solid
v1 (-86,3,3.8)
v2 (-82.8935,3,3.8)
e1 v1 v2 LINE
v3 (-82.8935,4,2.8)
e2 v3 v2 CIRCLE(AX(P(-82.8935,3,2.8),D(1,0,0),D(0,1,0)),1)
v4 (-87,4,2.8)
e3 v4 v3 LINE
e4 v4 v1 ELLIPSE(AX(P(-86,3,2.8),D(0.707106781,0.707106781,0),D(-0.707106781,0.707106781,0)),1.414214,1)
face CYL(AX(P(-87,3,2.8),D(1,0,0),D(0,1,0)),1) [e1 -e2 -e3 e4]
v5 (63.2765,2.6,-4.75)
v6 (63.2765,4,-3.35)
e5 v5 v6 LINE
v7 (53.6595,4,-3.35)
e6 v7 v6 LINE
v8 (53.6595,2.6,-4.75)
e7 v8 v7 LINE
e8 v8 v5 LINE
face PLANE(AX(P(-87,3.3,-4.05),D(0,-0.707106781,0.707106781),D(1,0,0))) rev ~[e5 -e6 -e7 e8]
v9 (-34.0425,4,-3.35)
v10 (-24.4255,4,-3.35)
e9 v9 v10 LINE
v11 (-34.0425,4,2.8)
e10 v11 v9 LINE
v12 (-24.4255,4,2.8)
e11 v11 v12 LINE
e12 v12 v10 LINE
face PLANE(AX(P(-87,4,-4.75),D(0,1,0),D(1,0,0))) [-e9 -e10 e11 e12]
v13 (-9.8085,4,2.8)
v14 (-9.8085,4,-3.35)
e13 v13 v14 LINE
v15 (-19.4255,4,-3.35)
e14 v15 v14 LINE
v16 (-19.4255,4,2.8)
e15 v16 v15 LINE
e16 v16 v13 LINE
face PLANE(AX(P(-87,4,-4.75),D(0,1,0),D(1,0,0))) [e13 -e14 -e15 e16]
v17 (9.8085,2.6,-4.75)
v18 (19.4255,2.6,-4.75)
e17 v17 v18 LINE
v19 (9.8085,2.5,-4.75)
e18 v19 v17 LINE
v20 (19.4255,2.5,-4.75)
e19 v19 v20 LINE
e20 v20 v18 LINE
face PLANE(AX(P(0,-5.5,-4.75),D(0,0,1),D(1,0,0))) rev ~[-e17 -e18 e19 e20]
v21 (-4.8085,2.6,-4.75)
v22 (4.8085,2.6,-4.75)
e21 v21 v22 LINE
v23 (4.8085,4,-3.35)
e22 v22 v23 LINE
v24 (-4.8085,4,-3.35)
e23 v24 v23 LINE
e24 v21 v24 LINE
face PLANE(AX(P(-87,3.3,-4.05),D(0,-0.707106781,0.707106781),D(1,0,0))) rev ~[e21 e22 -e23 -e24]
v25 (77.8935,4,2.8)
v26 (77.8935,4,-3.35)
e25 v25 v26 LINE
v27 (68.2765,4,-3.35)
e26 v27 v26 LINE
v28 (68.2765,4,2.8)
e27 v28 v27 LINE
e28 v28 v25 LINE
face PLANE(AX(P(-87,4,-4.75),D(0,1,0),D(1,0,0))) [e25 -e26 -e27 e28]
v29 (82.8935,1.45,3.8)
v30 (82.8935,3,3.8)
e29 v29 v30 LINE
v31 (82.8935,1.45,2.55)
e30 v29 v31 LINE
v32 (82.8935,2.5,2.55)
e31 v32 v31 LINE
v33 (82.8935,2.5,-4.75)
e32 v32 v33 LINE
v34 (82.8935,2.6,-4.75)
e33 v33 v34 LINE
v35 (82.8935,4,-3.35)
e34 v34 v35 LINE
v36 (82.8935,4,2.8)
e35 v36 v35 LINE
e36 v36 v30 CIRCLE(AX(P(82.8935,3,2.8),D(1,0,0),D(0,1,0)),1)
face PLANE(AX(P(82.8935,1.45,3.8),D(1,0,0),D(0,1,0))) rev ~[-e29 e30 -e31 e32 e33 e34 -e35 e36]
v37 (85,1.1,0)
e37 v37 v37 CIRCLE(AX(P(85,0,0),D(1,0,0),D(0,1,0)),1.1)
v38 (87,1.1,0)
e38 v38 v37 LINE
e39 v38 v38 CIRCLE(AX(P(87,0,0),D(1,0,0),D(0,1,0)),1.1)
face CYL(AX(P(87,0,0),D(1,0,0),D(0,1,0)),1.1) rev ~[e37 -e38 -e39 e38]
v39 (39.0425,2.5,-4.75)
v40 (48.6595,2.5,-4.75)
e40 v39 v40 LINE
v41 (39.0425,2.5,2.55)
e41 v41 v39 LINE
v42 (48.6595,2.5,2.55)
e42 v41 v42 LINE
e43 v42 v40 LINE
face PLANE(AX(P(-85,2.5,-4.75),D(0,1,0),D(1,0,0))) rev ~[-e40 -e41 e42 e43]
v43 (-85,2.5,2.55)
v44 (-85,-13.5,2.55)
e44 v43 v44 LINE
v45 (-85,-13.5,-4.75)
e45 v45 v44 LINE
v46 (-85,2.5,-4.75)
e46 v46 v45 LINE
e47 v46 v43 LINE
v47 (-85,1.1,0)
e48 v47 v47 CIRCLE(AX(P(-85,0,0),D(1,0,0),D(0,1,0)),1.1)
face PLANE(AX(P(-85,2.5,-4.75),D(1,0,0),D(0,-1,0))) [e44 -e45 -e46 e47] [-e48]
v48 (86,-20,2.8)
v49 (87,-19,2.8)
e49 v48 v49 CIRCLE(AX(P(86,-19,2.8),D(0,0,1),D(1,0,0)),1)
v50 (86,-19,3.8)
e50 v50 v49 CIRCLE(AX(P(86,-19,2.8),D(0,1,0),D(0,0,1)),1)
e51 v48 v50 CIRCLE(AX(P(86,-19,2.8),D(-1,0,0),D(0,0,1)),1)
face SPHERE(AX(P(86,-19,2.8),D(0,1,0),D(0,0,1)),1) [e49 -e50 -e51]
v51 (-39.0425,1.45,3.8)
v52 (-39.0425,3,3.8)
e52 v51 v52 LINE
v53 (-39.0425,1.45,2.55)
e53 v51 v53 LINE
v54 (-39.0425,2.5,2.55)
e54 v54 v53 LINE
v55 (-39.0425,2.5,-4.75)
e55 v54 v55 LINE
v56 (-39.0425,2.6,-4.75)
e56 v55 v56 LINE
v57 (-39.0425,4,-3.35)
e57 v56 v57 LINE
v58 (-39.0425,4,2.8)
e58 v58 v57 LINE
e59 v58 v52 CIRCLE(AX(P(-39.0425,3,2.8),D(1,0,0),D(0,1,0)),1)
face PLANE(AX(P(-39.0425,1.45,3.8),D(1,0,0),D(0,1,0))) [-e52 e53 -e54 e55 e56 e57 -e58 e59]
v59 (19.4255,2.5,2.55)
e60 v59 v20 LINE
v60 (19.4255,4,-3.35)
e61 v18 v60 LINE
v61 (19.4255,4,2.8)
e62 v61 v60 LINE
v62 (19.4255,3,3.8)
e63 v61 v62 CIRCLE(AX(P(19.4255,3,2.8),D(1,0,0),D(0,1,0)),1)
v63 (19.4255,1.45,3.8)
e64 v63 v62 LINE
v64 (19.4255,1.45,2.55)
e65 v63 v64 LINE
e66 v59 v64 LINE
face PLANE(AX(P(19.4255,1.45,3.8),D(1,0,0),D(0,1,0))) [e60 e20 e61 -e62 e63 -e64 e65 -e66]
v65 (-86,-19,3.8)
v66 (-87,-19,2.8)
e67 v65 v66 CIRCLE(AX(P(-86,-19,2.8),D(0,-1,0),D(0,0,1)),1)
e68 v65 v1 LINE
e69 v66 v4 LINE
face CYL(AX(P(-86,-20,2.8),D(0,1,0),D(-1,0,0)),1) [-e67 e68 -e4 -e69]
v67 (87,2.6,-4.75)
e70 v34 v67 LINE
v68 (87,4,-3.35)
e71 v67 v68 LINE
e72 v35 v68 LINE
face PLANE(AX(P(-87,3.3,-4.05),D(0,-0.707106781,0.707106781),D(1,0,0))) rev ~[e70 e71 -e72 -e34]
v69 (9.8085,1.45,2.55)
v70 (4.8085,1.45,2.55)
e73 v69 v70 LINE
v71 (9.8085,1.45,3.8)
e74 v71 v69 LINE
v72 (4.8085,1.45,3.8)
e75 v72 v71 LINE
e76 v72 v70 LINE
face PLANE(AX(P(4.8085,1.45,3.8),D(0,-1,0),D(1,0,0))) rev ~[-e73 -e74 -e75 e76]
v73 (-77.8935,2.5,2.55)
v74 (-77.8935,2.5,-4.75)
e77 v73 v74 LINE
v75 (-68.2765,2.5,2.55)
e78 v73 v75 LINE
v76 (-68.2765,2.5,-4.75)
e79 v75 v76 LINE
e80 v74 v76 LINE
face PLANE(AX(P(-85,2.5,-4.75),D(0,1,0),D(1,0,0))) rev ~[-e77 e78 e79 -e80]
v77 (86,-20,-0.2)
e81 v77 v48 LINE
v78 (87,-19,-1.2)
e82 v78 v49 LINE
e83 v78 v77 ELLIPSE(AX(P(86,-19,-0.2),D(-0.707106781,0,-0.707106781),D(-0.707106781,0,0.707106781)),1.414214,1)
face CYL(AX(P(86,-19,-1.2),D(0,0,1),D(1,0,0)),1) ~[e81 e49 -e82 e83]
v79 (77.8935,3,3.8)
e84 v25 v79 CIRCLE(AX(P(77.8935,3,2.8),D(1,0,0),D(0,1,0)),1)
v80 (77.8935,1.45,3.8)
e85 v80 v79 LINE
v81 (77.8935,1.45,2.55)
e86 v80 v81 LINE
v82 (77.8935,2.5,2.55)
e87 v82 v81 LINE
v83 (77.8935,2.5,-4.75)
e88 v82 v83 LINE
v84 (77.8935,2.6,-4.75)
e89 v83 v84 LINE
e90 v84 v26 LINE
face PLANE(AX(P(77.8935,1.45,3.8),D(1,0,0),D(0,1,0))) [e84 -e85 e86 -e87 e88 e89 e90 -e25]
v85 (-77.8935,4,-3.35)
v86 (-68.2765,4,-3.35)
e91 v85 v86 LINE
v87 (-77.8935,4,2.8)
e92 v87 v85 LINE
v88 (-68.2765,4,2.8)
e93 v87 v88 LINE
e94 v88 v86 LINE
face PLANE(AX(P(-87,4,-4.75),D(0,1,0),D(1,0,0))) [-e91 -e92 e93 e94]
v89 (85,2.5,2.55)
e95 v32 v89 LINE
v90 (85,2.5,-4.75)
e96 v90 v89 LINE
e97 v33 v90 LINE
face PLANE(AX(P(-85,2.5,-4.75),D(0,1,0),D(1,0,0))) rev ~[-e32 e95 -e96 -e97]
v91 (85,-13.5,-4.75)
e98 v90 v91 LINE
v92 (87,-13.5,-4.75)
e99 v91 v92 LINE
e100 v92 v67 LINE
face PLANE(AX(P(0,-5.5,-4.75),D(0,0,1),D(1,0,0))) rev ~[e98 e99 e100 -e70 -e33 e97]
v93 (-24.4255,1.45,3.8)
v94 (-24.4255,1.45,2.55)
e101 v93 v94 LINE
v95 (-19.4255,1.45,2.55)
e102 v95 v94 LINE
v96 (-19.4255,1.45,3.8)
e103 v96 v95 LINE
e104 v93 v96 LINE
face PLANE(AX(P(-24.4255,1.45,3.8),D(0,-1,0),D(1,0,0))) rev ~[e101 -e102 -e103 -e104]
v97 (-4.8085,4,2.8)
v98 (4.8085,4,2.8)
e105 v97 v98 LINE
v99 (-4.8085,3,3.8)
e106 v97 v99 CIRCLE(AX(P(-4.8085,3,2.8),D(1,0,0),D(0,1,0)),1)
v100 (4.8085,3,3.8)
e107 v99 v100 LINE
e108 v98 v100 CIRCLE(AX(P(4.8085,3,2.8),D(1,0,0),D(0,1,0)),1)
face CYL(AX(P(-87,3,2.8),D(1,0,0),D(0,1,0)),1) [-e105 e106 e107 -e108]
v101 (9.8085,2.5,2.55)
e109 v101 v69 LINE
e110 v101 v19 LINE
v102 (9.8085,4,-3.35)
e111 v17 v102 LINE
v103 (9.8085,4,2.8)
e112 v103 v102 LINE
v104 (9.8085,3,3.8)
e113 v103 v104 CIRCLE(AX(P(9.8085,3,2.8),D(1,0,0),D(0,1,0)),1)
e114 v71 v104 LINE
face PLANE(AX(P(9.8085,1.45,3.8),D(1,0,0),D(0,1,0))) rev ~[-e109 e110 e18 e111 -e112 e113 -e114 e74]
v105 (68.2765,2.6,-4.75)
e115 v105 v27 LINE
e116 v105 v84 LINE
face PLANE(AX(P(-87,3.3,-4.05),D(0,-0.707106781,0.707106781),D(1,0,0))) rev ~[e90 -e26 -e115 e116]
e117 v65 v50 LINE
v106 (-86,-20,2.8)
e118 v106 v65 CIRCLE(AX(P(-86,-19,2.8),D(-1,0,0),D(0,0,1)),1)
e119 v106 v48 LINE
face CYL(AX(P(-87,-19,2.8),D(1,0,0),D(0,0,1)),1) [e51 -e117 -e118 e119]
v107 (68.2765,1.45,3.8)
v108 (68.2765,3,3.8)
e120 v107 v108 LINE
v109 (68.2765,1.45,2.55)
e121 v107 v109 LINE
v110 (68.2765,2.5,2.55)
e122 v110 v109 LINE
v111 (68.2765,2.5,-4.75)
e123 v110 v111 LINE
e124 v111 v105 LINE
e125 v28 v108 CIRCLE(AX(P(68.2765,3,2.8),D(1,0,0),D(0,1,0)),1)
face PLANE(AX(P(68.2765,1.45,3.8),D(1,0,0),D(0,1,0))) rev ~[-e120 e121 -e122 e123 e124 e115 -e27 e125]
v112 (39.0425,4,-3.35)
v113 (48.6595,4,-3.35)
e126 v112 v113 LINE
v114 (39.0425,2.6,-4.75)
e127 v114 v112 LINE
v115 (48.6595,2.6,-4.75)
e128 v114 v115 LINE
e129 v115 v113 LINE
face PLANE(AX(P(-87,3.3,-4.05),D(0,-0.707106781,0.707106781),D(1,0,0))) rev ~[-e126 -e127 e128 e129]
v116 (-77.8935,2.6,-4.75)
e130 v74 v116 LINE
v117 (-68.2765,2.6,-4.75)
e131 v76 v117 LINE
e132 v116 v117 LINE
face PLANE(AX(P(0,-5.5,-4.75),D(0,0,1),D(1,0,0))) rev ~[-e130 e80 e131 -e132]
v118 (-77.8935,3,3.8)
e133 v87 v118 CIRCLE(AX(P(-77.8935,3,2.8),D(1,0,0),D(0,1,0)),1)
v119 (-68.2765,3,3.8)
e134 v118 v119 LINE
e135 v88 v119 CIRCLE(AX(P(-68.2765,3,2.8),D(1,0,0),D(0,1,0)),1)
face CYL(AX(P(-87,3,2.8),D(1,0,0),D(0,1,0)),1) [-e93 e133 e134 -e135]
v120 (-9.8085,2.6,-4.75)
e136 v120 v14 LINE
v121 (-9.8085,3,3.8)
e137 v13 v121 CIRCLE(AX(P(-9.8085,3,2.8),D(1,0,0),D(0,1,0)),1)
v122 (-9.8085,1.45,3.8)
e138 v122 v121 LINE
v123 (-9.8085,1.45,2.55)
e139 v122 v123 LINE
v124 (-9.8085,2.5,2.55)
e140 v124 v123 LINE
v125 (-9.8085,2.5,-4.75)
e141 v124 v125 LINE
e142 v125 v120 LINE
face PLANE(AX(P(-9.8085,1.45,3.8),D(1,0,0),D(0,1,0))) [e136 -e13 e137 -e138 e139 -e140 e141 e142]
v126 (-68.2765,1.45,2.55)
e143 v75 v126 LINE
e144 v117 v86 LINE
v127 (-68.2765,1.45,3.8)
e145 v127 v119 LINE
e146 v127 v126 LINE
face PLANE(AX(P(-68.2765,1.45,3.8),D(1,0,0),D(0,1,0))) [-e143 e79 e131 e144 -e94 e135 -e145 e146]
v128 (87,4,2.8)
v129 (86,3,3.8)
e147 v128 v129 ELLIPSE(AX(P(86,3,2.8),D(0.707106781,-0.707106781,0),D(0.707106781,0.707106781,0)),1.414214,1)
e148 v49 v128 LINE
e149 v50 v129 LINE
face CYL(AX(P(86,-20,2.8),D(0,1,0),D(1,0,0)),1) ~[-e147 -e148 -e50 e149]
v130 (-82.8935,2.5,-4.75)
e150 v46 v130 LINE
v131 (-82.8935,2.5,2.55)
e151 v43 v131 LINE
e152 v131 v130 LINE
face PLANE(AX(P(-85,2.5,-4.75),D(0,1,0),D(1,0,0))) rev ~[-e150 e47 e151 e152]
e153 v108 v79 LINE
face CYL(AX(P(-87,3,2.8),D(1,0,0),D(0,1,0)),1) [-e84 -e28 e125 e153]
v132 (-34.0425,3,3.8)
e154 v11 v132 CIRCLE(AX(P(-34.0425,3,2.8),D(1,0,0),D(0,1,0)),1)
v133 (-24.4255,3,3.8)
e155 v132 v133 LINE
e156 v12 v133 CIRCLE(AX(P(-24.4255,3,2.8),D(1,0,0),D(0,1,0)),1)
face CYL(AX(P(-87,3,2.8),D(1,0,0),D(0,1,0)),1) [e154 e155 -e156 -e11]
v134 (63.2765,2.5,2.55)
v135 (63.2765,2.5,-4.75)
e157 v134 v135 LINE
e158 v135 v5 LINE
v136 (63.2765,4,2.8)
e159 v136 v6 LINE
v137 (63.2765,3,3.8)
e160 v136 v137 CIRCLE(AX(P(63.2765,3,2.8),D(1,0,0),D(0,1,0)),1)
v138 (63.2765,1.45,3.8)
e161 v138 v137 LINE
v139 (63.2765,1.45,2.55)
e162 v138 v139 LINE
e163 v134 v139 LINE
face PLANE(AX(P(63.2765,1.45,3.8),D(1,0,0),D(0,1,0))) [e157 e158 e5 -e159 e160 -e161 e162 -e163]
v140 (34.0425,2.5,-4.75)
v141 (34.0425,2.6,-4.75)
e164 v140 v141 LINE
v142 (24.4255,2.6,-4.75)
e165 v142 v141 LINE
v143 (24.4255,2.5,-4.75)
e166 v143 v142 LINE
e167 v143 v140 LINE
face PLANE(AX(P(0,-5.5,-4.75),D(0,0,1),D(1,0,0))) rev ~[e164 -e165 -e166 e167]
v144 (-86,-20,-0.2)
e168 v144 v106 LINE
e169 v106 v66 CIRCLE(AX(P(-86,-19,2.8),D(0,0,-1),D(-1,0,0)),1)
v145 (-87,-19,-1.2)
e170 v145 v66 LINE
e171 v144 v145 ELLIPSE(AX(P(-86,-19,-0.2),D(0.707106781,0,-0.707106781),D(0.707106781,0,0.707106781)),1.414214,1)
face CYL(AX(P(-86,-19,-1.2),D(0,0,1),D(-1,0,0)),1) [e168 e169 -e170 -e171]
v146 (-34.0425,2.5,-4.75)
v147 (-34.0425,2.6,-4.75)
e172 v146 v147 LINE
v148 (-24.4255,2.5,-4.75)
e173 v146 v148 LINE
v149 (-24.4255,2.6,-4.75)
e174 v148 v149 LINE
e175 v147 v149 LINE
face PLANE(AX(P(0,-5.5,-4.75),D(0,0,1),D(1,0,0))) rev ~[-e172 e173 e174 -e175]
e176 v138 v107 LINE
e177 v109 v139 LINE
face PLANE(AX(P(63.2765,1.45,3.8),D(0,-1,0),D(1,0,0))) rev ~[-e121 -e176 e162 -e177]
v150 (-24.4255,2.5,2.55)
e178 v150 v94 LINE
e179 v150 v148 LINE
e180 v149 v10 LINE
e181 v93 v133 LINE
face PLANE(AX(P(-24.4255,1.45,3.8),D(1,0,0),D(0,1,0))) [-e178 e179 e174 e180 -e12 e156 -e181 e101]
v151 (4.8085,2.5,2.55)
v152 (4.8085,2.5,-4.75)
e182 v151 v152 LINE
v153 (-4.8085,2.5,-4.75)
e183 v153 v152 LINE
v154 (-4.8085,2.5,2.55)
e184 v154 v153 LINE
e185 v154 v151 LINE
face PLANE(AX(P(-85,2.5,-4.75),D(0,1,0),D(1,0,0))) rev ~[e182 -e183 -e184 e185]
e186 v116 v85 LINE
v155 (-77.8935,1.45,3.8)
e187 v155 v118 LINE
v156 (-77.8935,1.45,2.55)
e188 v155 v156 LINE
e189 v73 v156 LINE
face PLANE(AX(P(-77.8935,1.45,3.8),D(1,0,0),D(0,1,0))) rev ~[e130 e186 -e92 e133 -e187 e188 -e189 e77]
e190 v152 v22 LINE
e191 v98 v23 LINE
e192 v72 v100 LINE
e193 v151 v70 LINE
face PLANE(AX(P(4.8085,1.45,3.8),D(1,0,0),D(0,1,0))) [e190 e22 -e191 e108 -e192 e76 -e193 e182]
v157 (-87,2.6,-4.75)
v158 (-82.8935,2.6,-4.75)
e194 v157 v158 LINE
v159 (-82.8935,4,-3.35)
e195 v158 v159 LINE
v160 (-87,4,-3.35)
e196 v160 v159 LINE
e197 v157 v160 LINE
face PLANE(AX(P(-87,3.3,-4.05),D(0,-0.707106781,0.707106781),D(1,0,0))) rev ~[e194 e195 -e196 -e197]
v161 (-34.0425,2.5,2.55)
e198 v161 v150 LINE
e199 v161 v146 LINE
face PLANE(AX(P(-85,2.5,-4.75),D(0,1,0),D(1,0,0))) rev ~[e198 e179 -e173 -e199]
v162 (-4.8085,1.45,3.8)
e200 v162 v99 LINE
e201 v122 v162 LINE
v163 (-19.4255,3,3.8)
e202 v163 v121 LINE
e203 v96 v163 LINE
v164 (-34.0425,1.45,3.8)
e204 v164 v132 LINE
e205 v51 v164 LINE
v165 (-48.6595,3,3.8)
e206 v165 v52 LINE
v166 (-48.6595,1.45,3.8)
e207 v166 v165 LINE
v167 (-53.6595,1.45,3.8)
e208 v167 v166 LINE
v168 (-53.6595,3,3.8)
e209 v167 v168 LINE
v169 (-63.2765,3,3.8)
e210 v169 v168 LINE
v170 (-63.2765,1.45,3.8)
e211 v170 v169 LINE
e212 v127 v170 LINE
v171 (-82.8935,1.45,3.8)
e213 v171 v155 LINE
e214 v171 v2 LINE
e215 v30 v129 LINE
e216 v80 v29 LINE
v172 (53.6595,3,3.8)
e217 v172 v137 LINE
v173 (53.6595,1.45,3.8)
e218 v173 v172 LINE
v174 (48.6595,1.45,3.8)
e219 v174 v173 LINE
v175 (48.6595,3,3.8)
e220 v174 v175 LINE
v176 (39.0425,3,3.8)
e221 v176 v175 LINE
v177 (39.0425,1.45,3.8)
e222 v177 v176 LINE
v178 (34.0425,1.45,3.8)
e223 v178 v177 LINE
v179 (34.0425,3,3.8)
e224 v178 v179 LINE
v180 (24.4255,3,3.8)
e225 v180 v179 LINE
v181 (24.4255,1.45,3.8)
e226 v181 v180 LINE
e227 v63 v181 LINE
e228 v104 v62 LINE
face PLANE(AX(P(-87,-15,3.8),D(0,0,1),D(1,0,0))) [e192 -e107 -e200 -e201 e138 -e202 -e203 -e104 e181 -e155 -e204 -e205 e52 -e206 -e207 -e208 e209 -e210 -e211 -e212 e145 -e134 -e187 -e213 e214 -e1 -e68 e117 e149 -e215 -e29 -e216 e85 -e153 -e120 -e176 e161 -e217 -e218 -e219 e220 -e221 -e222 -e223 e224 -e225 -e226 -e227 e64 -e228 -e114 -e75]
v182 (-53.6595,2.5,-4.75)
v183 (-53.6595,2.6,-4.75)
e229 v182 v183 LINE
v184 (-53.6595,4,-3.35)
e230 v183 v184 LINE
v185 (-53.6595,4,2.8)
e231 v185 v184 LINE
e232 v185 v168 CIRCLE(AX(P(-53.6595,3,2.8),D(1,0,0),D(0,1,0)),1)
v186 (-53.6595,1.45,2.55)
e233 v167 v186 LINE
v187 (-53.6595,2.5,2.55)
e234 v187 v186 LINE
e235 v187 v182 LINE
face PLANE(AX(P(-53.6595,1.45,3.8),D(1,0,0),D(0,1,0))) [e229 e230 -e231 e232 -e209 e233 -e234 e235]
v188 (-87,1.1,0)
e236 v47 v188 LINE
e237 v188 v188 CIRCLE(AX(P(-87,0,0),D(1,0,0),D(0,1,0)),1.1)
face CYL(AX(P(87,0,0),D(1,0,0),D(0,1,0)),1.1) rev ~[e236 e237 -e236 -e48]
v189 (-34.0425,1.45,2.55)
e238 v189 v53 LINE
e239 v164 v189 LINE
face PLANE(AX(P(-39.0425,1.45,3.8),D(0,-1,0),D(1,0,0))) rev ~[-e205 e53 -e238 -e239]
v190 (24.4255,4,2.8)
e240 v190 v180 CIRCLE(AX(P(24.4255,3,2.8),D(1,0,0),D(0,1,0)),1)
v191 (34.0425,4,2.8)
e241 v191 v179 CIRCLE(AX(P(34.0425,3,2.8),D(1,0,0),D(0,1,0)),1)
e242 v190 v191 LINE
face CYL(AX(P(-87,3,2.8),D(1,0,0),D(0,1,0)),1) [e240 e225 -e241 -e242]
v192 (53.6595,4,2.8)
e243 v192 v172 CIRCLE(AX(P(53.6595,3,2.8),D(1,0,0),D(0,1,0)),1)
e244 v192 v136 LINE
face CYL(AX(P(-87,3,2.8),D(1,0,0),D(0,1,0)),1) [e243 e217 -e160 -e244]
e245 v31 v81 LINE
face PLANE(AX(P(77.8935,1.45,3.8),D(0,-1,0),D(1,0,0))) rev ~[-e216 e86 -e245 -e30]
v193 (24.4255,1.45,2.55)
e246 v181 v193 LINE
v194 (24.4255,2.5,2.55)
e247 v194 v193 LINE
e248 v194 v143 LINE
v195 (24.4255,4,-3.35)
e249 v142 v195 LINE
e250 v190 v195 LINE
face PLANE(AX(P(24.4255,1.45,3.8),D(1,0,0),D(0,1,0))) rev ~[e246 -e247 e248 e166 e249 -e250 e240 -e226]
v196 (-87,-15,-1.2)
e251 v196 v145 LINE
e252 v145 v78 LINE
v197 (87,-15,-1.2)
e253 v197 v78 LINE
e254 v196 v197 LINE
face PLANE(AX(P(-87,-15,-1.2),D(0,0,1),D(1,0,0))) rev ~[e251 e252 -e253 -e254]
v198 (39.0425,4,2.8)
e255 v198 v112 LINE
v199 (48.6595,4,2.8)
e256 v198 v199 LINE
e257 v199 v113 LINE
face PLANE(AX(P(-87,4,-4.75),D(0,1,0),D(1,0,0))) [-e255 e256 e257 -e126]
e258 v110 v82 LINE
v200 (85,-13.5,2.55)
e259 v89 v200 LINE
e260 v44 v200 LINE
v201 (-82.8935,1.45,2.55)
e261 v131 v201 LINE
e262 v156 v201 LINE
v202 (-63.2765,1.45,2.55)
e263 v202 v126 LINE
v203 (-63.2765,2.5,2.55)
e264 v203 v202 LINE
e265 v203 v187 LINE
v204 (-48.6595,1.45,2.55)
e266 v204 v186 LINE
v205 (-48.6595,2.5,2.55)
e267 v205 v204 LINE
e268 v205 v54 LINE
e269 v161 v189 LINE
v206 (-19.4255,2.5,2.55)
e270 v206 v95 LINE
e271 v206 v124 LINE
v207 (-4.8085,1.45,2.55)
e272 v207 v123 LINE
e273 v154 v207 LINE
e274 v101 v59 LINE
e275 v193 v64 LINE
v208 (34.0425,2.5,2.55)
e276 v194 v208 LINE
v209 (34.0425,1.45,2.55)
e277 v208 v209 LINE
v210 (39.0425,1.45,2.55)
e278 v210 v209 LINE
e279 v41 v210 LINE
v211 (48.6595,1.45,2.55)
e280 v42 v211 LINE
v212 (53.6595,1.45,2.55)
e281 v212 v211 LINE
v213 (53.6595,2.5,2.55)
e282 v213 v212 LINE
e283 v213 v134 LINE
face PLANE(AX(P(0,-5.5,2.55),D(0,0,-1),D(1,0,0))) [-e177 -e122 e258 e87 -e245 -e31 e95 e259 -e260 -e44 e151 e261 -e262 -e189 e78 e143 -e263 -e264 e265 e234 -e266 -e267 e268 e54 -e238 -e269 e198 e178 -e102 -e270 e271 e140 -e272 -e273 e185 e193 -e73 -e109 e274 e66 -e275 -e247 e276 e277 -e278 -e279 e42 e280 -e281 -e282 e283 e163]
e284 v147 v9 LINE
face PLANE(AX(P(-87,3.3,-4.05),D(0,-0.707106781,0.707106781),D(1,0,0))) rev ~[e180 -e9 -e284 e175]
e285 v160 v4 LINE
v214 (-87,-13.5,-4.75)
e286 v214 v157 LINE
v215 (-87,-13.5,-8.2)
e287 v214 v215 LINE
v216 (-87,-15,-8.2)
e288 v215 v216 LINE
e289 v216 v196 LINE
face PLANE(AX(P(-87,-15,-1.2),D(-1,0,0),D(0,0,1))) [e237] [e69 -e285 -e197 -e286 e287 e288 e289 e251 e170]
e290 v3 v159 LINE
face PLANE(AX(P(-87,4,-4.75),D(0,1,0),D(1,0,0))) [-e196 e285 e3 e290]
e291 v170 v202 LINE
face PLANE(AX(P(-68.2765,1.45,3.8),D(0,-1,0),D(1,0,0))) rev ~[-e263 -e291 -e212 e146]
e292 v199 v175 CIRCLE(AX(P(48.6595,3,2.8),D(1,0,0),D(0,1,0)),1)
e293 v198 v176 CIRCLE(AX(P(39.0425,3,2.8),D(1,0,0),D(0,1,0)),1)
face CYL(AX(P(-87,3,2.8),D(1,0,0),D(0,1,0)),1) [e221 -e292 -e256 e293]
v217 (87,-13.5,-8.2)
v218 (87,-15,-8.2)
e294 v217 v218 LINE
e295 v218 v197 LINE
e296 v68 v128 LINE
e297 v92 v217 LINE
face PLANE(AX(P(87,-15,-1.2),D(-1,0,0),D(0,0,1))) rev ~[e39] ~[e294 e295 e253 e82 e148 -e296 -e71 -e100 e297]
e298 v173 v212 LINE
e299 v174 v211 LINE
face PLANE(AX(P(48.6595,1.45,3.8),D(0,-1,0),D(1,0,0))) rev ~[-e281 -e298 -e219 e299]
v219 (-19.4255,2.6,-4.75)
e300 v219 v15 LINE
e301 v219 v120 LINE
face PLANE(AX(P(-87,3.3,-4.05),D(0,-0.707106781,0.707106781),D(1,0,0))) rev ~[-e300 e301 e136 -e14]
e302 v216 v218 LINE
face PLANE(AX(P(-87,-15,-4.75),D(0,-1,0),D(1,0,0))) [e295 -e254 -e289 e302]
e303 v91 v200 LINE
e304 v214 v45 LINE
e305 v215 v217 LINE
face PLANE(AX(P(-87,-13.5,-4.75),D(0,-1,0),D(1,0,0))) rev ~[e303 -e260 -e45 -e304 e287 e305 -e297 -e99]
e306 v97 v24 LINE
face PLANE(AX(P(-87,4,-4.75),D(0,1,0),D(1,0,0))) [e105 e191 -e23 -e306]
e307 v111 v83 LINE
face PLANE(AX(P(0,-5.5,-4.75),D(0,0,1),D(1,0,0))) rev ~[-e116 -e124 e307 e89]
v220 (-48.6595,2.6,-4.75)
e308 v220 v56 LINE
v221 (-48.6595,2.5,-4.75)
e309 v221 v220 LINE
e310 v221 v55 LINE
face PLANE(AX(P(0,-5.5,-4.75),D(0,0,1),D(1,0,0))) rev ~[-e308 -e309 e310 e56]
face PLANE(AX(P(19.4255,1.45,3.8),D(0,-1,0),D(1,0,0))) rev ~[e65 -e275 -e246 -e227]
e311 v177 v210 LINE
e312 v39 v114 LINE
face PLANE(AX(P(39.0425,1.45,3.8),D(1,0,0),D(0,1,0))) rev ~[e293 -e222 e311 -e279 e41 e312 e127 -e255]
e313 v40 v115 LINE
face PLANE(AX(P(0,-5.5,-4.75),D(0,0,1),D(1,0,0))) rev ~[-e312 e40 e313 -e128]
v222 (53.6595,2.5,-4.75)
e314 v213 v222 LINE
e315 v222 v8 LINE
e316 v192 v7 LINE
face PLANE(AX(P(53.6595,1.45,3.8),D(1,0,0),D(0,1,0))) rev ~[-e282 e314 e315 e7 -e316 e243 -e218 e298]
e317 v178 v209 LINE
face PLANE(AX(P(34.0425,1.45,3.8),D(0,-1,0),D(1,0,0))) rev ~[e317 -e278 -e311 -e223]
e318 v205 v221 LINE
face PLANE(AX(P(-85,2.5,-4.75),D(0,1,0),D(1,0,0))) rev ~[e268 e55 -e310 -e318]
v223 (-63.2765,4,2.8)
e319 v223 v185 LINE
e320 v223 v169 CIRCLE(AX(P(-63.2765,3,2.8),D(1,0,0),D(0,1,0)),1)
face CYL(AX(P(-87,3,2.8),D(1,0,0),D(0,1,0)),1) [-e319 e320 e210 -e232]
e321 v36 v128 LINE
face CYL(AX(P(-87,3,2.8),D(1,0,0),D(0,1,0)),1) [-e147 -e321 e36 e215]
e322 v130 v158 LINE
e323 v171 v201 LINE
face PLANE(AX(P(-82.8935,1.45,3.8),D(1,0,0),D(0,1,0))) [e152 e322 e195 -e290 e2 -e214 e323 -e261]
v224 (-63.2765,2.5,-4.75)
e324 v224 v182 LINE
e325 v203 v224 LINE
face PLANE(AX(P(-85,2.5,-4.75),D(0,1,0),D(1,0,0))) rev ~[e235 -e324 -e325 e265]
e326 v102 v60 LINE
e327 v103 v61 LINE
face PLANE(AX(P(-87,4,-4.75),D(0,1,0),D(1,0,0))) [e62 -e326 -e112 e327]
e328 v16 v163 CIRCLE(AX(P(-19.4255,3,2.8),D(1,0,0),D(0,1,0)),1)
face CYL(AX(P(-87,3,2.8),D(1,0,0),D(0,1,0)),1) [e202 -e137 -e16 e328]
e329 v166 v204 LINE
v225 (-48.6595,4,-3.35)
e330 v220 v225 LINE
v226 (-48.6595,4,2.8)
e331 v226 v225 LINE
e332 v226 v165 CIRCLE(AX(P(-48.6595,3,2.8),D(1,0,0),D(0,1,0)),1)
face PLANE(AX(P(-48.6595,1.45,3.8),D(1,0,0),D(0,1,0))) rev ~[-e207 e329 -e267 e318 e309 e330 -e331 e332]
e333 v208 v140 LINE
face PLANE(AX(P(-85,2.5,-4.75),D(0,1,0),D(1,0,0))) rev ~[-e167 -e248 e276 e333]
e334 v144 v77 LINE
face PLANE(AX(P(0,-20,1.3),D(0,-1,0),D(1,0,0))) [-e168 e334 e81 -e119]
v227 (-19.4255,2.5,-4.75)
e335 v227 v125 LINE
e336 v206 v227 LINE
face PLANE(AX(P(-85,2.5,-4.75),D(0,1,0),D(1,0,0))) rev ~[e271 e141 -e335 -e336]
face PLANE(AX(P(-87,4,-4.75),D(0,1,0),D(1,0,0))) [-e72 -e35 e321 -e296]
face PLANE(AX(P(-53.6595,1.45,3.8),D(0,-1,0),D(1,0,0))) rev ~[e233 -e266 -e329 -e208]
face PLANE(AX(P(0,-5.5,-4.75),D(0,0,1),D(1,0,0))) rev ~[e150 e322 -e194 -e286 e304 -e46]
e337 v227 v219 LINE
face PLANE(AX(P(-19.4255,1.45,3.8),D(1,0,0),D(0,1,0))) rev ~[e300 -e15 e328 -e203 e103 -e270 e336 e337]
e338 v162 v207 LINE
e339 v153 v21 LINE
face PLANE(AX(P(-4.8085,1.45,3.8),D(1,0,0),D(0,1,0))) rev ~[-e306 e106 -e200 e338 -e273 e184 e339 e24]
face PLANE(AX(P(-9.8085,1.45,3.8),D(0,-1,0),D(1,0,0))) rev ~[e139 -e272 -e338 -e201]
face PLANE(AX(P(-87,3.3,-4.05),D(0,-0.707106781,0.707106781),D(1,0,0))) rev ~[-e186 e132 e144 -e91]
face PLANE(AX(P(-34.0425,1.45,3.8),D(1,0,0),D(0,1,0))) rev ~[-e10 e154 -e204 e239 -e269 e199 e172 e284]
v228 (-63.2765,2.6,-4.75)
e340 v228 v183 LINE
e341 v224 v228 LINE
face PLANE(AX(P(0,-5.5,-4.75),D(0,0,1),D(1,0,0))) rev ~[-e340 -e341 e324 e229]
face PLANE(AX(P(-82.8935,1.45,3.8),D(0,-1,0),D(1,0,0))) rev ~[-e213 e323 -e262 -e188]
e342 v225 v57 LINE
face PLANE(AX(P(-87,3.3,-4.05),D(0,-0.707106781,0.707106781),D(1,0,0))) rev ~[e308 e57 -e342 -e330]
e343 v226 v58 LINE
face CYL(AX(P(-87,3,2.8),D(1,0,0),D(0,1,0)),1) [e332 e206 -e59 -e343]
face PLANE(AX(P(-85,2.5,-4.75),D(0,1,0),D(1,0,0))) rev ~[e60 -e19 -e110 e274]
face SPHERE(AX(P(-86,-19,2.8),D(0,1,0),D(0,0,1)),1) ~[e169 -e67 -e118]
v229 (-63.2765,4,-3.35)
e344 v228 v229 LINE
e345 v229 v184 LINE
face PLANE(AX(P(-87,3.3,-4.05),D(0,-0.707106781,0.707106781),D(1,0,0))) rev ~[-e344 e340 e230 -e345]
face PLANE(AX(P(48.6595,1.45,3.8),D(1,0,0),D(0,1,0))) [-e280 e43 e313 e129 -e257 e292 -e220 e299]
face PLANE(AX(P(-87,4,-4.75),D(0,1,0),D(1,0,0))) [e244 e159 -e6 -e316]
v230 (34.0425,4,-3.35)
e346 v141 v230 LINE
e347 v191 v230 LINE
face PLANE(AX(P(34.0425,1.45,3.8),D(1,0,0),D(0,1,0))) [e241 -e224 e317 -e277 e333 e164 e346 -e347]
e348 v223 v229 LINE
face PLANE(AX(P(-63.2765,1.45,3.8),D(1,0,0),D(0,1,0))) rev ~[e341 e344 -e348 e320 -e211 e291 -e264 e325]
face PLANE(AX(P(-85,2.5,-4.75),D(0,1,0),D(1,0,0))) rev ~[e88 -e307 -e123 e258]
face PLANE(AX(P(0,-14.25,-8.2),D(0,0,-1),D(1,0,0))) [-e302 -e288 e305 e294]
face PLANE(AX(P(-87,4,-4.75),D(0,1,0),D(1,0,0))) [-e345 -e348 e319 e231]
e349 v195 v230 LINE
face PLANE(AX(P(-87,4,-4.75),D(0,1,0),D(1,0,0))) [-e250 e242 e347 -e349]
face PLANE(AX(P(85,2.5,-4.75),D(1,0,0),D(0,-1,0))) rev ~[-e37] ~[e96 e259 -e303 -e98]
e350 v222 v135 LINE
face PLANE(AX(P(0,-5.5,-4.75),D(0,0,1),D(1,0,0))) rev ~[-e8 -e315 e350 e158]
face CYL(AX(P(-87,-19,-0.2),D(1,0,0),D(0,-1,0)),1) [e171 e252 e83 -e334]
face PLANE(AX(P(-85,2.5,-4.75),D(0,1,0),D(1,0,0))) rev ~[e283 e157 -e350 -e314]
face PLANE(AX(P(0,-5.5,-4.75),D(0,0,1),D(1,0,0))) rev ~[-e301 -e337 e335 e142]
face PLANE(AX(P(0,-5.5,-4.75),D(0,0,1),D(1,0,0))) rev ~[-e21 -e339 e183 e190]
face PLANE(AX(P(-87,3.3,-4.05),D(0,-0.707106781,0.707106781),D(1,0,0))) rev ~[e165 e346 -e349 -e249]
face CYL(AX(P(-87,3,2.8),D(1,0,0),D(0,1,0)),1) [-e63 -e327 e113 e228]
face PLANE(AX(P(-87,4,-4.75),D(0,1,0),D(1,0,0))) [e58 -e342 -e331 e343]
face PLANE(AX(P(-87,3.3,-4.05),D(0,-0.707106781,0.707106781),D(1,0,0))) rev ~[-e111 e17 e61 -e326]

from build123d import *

# Parameters (mm, degrees)
SKETCH_W        = 174
SKETCH_H        = 19
PAD_DEPTH       = 8.55
SKETCH001_W     = 170
SKETCH001_H     = 16
POCKET_DEPTH    = 7.3
SKETCH002_R     = 1.1
HOLE_DEPTH      = 174.001
CHAMFER_SIZE    = 1.4
SKETCH003_W     = 174
SKETCH003_H     = 1.5
PAD001_DEPTH    = 3.45
SKETCH004_W     = 174
SKETCH004_H     = 5
PAD002_DEPTH    = 5
FILLET_R        = 1
SKETCH005_W     = 5
SKETCH005_H     = 10.149898
SKETCH005_H_2   = 10.668564
SKETCH005_H_3   = 8.55
SKETCH005_H_4   = 9.73434
SKETCH005_H_5   = 10.175496
POCKET001_DEPTH = 20


with BuildPart() as part:
    # Sketch → Pad (new body)
    with BuildSketch(Plane.XY):
        with Locations((0, -0.5)):
            Rectangle(SKETCH_W, SKETCH_H)
    extrude(amount=PAD_DEPTH)

    # Sketch001 → Pocket (cut)
    with BuildSketch(Plane(origin=(0, 0, 0), x_dir=(1, 0, 0), z_dir=(0, 0, -1))):
        with Locations((0, 0.5)):
            Rectangle(SKETCH001_W, SKETCH001_H)
    extrude(amount=-POCKET_DEPTH, mode=Mode.SUBTRACT)

    # Sketch002 (on Face3 of Pocket) → Hole (cut, through all)
    with BuildSketch(Plane.YZ.offset(87)):
        with Locations((5, 4.75)):
            Circle(SKETCH002_R)
    extrude(amount=-HOLE_DEPTH, mode=Mode.SUBTRACT)

    # Chamfer
    chamfer_edges = [part.edges().sort_by_distance(p)[0] for p in [
        (0, 9, 0),
    ]]
    chamfer(chamfer_edges, length=CHAMFER_SIZE)

    # Sketch003 (on Face6 of Chamfer) → Pad001 (join)
    with BuildSketch(Plane(origin=(0, 0, 0), x_dir=(1, 0, 0), z_dir=(0, 0, -1))):
        with Locations((0, 9.25)):
            Rectangle(SKETCH003_W, SKETCH003_H)
    extrude(amount=PAD001_DEPTH)

    # Sketch004 (on Face8 of Pad001) → Pad002 (join)
    with BuildSketch(Plane.XZ.offset(10)):
        with Locations((0, 6.05)):
            Rectangle(SKETCH004_W, SKETCH004_H)
    extrude(amount=PAD002_DEPTH)

    # Fillet
    fillet_edges = [part.edges().sort_by_distance(p)[0] for p in [
        (-87, -12.5, 8.55),
        (-87, -0.5, 8.55),
        (87, -0.5, 8.55),
        (87, -12.5, 8.55),
        (0, 9, 8.55),
        (0, -15, 8.55),
        (87, -15, 6.05),
        (0, -15, 3.55),
        (-87, -15, 6.05),
    ]]
    fillet(fillet_edges, radius=FILLET_R)

    # Sketch005 (on Face12 of Fillet) → Pocket001 (cut)
    with BuildSketch(Plane.XY.offset(8.55)):
        with Locations((-7.3085, 11.524949)):
            Rectangle(SKETCH005_W, SKETCH005_H)
        with Locations((7.3085, 11.784282)):
            Rectangle(SKETCH005_W, SKETCH005_H_2)
        with Locations((-21.9255, 10.725)):
            Rectangle(SKETCH005_W, SKETCH005_H_3)
        with Locations((-36.5425, 10.725)):
            Rectangle(SKETCH005_W, SKETCH005_H_3)
        with Locations((-51.1595, 10.725)):
            Rectangle(SKETCH005_W, SKETCH005_H_3)
        with Locations((-65.7765, 10.725)):
            Rectangle(SKETCH005_W, SKETCH005_H_3)
        with Locations((-80.3935, 10.725)):
            Rectangle(SKETCH005_W, SKETCH005_H_3)
        with Locations((21.9255, 11.31717)):
            Rectangle(SKETCH005_W, SKETCH005_H_4)
        with Locations((36.5425, 11.537748)):
            Rectangle(SKETCH005_W, SKETCH005_H_5)
        with Locations((51.1595, 10.725)):
            Rectangle(SKETCH005_W, SKETCH005_H_3)
        with Locations((65.7765, 10.725)):
            Rectangle(SKETCH005_W, SKETCH005_H_3)
        with Locations((80.3935, 10.725)):
            Rectangle(SKETCH005_W, SKETCH005_H_3)
    extrude(amount=-POCKET001_DEPTH, mode=Mode.SUBTRACT)


with BuildPart() as part_1:
    # Body placement: moved
    add(part.part.moved(Location((0, -5, -4.75))))


solid = part_1.part
